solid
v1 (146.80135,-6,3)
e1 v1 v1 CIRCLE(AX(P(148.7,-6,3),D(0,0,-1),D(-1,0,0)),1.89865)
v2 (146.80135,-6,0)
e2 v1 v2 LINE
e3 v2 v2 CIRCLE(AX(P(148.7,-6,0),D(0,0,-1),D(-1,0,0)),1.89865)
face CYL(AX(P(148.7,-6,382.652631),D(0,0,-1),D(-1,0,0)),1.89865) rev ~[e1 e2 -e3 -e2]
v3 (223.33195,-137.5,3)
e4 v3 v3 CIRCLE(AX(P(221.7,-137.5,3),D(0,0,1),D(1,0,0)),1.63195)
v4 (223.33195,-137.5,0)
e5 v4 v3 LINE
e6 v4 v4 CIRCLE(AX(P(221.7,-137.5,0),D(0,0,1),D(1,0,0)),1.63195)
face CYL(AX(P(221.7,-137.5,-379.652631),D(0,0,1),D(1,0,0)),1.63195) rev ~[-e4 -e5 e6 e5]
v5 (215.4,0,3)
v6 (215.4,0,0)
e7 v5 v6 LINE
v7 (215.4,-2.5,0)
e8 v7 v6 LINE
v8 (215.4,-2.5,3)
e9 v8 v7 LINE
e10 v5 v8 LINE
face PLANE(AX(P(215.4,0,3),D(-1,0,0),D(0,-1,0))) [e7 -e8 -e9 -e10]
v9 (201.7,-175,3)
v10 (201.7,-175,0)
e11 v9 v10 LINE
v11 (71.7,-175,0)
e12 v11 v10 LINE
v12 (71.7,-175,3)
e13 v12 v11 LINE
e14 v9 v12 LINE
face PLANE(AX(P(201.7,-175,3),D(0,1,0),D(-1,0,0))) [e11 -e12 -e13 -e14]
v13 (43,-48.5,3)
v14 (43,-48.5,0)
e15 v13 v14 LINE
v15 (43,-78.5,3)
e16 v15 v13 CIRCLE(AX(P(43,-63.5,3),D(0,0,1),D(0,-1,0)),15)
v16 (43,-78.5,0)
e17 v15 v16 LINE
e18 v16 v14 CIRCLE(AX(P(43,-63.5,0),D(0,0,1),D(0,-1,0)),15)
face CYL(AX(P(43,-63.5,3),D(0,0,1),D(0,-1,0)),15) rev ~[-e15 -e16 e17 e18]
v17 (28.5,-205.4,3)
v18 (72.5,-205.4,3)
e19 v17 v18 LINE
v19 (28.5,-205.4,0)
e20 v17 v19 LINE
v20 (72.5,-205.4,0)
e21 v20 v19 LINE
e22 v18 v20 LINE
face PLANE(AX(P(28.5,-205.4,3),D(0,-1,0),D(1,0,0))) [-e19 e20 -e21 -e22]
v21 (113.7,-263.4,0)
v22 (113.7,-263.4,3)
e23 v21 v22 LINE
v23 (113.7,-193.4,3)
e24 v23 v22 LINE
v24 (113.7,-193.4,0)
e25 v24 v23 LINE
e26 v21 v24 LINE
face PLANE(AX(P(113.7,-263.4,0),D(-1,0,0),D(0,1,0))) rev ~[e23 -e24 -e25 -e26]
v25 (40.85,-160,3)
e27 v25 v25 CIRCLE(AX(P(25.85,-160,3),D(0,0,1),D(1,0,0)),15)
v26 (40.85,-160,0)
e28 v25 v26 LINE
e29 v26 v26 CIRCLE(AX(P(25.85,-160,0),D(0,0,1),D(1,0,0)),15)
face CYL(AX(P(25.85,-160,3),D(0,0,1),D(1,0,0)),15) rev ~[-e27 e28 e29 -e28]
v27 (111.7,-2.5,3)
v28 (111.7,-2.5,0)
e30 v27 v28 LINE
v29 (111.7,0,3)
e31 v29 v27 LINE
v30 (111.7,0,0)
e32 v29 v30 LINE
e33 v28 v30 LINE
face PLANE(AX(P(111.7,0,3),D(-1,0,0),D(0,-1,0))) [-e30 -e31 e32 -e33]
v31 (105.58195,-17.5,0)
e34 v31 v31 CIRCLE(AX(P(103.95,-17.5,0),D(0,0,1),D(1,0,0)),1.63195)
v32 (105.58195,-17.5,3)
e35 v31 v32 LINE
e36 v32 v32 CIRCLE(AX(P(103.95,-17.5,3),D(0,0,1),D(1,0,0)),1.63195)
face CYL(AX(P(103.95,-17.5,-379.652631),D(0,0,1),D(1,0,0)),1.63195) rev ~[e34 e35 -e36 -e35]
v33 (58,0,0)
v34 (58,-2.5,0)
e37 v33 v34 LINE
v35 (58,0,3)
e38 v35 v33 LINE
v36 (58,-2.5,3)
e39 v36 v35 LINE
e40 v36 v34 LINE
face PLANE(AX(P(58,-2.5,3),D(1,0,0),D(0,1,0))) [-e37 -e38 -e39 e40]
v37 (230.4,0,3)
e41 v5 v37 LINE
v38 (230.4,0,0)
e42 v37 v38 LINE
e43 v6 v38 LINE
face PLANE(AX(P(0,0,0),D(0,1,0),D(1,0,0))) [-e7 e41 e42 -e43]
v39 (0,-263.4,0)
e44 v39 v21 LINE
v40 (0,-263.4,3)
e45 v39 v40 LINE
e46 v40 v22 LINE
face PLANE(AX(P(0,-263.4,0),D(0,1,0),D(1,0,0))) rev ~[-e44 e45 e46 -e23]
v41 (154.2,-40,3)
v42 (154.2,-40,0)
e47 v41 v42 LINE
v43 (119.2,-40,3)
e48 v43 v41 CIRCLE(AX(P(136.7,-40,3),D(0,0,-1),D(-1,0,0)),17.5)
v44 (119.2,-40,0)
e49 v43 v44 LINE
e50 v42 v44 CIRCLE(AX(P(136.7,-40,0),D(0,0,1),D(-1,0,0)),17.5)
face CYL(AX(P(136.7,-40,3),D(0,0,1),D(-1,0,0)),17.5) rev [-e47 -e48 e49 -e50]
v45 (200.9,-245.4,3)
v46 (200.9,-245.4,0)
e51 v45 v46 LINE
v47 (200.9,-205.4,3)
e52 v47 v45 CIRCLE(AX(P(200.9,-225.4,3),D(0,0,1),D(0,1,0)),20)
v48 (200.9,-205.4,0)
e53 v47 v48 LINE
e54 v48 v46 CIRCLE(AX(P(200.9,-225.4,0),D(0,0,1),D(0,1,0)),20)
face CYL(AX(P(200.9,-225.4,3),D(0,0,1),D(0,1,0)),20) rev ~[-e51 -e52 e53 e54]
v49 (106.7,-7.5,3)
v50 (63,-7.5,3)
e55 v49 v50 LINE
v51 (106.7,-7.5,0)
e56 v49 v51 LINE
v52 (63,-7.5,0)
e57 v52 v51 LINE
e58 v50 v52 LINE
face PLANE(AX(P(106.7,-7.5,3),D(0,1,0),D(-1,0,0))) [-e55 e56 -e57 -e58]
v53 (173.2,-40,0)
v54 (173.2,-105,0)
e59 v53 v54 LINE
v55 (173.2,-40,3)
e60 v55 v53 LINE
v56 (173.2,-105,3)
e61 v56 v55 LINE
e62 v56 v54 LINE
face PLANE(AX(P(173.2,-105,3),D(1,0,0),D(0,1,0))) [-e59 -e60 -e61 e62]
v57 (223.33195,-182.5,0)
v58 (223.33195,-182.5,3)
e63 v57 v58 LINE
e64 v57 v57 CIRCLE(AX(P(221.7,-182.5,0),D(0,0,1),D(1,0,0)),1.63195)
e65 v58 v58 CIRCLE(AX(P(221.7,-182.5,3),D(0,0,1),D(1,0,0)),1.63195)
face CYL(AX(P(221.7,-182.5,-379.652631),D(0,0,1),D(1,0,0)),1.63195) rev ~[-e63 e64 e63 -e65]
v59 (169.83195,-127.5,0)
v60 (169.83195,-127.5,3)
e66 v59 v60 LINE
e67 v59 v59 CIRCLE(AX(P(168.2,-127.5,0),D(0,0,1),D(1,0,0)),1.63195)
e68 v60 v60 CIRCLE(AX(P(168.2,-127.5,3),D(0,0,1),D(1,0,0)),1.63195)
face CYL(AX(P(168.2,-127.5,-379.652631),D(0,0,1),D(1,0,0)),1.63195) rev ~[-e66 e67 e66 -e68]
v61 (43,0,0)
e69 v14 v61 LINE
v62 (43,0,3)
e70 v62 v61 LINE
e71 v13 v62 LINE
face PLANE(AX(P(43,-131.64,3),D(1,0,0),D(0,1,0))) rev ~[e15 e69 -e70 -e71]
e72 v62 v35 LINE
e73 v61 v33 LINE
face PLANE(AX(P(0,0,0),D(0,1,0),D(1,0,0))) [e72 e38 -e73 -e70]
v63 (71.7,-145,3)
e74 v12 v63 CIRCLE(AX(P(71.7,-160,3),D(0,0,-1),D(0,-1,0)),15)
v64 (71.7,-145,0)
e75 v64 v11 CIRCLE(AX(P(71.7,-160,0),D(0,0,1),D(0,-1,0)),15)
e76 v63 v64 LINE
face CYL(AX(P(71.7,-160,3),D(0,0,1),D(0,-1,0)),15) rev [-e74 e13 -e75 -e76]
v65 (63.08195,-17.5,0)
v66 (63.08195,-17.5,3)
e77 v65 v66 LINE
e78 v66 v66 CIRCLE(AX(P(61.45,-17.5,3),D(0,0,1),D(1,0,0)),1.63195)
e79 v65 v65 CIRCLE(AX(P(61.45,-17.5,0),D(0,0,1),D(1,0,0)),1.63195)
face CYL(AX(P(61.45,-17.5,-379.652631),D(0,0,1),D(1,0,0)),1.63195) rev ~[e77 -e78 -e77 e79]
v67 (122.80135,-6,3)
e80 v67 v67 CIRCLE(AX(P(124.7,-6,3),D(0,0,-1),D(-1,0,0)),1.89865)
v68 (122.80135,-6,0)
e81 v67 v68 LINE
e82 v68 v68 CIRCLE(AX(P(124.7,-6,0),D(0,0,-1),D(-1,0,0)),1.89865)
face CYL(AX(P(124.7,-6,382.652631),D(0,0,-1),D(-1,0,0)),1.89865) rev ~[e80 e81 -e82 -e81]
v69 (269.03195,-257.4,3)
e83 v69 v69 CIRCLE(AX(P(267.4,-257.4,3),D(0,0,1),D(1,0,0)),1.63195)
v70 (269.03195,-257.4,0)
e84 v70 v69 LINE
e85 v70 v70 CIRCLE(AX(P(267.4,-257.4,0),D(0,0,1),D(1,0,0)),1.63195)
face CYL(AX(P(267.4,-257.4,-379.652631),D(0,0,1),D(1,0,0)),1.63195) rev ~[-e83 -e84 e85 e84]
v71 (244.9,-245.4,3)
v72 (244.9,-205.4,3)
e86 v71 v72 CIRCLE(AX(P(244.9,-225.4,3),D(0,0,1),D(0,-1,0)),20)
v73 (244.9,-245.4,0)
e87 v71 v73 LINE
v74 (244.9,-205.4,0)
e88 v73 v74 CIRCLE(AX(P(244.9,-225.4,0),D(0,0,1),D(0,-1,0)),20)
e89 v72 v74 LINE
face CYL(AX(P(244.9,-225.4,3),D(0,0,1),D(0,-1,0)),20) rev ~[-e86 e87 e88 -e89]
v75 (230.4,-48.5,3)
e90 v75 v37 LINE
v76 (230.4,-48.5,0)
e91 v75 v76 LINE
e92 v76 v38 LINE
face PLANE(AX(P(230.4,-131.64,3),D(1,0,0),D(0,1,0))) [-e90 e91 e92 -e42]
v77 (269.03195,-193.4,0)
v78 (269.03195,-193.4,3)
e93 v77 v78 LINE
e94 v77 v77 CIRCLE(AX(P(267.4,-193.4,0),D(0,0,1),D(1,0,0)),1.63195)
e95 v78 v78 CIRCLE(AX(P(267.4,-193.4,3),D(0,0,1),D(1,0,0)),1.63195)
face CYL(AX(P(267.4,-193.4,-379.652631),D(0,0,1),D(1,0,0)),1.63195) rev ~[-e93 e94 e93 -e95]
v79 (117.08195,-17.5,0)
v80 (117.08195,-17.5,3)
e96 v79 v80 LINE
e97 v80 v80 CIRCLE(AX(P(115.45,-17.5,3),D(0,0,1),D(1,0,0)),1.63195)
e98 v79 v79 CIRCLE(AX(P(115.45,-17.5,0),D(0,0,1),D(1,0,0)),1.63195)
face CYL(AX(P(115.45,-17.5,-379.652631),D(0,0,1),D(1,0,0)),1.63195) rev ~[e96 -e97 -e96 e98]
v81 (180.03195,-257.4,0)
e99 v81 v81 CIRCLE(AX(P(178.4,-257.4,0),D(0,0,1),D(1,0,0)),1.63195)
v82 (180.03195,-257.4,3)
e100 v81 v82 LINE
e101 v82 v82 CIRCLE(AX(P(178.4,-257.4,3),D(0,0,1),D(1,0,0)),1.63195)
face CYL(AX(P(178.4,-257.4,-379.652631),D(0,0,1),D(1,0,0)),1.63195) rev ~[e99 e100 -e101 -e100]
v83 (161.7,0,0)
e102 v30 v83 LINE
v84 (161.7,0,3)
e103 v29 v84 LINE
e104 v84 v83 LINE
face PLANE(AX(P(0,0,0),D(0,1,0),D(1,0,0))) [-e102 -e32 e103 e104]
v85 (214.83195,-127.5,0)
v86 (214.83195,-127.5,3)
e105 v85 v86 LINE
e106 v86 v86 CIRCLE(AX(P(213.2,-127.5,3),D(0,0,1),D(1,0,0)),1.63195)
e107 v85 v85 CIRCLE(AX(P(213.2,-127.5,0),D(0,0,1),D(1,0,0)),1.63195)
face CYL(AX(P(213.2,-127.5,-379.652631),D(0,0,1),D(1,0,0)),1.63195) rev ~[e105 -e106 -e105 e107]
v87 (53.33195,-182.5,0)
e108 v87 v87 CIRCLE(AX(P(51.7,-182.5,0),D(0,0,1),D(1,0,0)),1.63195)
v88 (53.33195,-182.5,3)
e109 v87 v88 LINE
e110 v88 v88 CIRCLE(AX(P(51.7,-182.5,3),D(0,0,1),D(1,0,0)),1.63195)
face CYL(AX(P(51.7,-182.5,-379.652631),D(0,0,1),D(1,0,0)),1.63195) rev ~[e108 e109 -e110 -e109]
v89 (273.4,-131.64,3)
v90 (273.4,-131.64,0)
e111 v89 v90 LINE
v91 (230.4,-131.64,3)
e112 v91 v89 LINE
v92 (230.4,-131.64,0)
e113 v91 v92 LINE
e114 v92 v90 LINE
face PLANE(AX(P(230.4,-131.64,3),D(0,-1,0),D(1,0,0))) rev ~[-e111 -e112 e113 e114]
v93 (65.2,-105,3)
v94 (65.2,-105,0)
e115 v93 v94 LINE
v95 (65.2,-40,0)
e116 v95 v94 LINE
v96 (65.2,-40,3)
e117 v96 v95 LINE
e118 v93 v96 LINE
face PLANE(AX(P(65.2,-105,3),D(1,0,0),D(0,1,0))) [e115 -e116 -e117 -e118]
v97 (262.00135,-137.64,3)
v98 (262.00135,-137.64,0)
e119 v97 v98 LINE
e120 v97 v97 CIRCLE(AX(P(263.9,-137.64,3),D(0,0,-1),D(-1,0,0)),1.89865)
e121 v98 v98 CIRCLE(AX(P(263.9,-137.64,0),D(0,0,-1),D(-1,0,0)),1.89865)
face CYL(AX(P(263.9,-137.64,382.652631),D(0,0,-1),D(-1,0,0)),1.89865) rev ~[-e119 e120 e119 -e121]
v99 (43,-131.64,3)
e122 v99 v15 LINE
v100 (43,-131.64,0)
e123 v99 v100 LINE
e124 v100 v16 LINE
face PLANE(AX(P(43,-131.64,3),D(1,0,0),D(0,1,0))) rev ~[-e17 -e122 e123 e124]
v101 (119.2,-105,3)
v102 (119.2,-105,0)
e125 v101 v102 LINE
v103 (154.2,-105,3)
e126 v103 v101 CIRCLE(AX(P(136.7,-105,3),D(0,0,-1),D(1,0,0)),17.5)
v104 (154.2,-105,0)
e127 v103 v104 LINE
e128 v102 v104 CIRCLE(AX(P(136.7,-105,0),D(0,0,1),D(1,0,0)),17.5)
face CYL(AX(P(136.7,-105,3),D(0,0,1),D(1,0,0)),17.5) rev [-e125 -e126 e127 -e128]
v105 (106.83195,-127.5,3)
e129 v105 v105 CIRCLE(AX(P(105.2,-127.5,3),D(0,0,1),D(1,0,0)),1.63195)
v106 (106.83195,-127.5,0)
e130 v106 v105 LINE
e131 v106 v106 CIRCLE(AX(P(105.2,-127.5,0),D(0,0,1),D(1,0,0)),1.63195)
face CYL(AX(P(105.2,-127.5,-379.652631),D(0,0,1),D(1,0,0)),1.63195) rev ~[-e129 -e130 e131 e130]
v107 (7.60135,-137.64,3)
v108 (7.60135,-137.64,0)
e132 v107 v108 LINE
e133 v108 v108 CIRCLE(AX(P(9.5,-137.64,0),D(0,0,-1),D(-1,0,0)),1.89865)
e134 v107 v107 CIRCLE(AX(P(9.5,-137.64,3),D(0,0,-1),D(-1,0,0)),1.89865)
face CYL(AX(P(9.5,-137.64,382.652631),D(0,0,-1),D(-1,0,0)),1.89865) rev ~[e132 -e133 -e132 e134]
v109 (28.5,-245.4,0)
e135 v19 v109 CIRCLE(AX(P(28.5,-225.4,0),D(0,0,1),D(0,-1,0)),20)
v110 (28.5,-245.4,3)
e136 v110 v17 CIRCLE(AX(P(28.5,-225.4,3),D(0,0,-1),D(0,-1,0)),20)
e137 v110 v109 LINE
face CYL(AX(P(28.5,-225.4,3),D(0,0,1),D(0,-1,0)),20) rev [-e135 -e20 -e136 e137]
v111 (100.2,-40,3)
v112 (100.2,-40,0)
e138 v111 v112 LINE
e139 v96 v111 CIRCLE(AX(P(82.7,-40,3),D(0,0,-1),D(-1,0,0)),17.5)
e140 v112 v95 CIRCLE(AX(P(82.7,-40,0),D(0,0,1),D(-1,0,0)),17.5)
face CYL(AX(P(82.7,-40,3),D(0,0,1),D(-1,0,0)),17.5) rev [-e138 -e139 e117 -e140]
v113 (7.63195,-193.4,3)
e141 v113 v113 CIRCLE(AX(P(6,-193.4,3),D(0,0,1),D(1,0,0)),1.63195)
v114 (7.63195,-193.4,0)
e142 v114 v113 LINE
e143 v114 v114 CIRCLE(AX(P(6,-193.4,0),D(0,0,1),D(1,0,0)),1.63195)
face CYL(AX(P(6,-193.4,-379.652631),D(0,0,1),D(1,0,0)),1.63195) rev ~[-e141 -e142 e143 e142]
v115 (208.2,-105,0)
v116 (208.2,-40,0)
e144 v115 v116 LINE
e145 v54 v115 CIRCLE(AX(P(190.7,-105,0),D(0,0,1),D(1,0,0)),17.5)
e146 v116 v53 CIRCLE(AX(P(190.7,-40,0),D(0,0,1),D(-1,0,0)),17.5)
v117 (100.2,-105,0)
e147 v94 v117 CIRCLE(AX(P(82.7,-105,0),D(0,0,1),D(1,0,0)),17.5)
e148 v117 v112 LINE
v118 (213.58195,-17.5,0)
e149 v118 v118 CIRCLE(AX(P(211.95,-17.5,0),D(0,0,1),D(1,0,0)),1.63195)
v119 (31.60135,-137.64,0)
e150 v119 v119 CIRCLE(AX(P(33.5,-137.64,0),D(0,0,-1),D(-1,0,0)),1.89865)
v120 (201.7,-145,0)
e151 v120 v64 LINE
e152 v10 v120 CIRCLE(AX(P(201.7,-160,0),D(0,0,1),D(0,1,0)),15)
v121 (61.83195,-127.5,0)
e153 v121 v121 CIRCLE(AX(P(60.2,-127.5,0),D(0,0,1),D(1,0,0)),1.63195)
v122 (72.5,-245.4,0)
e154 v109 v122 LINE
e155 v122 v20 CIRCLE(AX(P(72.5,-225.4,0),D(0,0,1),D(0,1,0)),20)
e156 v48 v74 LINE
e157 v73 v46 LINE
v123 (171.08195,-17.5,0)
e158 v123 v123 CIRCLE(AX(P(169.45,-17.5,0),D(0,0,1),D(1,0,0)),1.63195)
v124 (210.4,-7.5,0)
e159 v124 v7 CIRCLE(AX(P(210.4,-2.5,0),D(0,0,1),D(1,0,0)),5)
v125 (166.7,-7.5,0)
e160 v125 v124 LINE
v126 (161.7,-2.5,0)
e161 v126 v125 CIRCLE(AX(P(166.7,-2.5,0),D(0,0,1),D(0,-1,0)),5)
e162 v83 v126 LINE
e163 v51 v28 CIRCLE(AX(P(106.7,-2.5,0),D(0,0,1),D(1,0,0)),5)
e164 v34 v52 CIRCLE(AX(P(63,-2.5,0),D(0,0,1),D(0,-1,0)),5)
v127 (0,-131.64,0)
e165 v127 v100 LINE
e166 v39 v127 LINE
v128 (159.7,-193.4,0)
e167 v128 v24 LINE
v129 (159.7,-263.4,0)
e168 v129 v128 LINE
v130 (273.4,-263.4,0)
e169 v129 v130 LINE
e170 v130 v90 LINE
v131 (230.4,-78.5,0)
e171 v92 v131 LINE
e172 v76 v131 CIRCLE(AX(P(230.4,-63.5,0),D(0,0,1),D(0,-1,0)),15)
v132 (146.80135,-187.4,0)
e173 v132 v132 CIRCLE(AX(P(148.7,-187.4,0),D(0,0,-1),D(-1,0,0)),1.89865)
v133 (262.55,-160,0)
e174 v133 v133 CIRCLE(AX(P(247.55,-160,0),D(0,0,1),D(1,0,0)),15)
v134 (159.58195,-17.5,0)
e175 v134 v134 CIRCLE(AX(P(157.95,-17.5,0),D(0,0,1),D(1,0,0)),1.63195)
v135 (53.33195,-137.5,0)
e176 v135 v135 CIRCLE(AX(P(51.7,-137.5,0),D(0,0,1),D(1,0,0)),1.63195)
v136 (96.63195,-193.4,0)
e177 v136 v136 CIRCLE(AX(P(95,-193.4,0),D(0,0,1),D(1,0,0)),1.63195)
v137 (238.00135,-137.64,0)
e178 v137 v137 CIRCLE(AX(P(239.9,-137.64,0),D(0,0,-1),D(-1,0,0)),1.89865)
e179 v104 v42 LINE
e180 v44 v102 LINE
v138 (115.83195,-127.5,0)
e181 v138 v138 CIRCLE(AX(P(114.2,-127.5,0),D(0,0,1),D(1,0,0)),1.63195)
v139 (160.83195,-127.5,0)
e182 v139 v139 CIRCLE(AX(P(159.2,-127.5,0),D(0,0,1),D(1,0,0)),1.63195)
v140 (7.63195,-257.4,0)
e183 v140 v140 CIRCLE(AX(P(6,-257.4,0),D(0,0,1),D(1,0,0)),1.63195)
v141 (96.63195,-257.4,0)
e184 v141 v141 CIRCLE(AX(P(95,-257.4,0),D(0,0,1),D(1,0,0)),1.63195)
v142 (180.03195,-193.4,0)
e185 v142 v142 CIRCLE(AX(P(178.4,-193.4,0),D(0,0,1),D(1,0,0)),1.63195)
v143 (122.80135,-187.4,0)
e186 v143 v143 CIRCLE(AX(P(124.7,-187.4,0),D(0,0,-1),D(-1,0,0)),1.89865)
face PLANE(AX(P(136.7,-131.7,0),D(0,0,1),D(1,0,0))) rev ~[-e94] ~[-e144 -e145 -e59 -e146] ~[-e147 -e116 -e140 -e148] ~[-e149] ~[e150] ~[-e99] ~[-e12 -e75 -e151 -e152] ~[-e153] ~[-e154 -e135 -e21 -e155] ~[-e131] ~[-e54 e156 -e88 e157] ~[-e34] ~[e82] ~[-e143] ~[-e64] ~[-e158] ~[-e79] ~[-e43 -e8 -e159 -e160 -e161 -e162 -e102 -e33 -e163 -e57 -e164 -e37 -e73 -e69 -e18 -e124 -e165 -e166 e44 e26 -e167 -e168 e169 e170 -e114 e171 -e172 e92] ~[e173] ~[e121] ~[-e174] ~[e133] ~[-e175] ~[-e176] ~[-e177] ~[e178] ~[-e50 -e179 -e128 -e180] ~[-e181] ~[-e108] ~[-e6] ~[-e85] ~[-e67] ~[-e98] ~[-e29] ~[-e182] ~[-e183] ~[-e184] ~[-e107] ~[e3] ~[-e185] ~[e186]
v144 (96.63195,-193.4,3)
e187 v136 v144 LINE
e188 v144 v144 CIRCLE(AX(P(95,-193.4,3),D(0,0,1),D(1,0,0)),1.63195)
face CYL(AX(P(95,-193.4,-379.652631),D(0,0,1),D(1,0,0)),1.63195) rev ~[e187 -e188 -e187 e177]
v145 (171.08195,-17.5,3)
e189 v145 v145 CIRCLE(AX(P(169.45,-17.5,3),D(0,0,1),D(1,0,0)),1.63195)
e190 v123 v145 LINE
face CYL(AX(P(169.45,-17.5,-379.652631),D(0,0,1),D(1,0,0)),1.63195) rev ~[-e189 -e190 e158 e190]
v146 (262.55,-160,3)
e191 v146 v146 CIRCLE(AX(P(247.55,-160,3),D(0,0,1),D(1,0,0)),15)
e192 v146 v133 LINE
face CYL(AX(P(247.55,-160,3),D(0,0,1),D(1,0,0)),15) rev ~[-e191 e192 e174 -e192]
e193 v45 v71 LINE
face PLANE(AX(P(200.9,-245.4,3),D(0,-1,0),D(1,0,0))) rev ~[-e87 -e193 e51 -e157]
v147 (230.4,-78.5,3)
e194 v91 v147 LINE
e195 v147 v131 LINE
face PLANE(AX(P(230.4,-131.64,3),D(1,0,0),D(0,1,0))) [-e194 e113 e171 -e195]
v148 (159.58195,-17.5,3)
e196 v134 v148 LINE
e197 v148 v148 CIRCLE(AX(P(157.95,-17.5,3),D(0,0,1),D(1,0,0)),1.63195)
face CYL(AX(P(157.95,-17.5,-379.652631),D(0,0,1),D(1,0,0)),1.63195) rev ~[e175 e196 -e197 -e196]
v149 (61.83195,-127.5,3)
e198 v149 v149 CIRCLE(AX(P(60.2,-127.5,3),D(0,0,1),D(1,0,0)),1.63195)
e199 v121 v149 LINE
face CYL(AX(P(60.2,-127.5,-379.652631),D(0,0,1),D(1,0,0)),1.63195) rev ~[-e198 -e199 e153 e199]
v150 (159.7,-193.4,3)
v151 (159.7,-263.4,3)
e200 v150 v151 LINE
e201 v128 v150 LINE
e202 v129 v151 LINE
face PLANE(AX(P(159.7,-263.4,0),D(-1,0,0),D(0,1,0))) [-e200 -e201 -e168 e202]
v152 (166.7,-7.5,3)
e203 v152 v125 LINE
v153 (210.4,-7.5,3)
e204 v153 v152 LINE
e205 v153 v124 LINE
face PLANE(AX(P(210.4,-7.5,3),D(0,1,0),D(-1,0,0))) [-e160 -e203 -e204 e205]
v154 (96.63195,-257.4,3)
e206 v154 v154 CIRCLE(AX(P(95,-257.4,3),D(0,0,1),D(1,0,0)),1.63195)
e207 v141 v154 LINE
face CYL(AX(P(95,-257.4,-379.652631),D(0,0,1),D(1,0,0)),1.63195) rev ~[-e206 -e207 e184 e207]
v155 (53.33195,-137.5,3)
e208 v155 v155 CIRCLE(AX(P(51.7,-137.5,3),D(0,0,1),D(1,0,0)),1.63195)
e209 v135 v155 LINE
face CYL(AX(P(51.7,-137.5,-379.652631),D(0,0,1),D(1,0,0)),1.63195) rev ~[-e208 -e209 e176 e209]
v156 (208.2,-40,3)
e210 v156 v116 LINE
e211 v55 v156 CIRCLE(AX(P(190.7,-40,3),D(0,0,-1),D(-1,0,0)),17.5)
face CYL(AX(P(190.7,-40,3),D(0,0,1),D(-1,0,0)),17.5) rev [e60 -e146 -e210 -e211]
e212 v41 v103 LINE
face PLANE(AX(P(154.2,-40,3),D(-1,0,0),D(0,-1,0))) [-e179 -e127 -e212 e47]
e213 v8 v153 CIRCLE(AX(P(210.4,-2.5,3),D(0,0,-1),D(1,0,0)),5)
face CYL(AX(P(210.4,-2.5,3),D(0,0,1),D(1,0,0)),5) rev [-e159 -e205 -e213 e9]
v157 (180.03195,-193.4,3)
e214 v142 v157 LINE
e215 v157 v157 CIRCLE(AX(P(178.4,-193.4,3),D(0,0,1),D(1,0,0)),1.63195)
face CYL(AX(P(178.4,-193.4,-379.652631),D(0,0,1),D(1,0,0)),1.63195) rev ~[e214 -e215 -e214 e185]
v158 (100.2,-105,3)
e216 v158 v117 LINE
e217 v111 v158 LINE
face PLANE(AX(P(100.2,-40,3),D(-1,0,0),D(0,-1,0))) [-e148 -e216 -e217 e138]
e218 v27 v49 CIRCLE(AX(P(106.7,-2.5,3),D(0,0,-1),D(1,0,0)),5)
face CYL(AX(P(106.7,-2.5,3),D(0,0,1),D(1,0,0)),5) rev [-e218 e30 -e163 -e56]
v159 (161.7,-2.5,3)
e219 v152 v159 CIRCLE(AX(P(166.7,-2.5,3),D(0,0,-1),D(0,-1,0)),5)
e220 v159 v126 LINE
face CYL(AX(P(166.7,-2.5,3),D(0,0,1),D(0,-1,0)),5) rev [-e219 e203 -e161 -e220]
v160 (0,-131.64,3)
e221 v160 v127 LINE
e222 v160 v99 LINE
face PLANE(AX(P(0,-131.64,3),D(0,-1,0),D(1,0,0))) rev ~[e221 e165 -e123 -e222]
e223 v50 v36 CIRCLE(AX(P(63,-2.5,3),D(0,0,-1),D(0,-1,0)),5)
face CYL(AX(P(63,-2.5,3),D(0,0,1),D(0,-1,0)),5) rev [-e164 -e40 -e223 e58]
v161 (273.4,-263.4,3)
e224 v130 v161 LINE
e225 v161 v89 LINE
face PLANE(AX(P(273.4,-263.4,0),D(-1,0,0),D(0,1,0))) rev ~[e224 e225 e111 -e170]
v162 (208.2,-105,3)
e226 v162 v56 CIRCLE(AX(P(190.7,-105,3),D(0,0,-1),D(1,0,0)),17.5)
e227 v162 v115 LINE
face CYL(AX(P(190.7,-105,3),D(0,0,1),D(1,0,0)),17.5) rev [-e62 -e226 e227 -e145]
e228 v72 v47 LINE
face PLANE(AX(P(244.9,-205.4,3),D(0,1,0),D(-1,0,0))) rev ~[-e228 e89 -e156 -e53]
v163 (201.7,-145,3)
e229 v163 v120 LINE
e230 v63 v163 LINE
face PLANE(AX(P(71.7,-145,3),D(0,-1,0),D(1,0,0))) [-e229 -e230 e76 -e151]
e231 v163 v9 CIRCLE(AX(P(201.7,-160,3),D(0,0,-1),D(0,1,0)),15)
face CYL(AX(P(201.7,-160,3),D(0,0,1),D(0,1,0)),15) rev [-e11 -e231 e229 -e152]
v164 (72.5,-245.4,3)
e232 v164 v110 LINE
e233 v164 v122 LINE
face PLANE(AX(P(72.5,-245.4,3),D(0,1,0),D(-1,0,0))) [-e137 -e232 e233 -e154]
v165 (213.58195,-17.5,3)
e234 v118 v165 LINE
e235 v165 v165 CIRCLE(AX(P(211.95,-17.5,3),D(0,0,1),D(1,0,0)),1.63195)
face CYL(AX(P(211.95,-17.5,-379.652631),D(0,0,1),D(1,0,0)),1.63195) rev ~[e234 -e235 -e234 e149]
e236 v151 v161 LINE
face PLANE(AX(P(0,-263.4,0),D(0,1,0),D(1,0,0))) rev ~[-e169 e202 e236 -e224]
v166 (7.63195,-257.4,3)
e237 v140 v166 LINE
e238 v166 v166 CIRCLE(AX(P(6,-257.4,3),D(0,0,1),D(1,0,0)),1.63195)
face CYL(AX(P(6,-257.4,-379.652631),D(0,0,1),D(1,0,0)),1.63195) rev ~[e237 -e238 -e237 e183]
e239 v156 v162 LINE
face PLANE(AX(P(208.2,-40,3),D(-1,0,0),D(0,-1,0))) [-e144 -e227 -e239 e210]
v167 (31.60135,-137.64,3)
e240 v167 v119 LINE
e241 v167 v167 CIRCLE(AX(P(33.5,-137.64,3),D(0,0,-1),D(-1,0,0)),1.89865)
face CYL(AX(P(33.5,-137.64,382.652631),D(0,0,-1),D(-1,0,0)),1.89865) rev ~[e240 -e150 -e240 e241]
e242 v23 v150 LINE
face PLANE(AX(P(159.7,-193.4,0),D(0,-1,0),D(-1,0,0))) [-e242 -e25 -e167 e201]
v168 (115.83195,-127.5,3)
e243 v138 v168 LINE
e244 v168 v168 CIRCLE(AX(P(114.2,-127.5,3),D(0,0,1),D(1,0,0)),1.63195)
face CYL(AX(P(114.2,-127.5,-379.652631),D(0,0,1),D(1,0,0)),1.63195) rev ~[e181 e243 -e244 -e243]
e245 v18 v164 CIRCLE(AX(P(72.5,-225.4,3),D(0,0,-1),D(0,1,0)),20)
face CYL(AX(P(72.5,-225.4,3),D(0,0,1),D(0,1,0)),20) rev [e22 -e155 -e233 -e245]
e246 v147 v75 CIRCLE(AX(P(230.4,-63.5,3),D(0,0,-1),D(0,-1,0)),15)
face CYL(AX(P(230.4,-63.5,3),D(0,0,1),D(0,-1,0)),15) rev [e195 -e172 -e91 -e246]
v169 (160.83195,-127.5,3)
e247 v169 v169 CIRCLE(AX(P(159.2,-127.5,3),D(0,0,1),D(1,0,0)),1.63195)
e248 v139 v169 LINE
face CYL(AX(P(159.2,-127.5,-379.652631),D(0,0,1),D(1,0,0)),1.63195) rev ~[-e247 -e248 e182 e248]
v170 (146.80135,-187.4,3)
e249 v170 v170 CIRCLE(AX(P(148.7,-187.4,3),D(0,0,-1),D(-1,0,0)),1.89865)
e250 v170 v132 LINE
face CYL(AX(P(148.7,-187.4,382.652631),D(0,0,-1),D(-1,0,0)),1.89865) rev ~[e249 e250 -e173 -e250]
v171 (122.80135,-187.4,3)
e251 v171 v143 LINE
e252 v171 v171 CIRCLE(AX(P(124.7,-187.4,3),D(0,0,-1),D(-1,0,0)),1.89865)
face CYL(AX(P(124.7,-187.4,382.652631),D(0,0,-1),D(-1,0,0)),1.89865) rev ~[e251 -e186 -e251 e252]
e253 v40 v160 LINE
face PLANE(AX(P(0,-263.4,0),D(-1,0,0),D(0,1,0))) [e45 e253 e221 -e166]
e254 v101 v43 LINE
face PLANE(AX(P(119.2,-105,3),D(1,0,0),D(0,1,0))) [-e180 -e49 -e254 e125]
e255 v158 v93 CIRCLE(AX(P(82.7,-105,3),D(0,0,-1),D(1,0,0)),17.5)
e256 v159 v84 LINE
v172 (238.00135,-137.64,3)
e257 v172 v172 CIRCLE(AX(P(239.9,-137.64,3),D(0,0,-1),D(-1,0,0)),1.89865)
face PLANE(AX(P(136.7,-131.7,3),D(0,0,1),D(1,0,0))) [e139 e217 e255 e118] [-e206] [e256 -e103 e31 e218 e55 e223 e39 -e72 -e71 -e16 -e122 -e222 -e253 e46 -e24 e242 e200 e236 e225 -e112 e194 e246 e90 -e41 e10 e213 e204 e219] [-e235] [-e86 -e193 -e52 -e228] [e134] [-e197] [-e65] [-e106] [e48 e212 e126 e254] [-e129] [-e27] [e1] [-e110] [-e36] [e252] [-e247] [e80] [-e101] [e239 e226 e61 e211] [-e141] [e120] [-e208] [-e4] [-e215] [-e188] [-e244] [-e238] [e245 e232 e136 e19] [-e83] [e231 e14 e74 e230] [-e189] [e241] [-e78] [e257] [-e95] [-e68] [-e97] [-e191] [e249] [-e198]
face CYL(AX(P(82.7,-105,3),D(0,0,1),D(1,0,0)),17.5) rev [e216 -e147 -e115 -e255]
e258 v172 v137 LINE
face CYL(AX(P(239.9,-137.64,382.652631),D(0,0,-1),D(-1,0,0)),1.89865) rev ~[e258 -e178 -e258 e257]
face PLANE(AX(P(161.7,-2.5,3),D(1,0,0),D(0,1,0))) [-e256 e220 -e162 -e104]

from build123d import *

# Parameters (mm, degrees)
SKETCH1_W             = 273.4
SKETCH1_H             = 263.4
BOSS_EXTRUDE1_DEPTH   = 3
SKETCH2_W             = 43
SKETCH2_H             = 131.64
CUT_EXTRUDE1_DEPTH    = 380.652630703
SKETCH3_W             = 46
SKETCH3_H             = 70
CUT_EXTRUDE2_DEPTH    = 380.652630703
F_4_CLEARANCE_HOLE1_D = 3.2639
CUT_EXTRUDE3_REACH    = 381.653
SKETCH4_R             = 15
F_6_CLEARANCE_HOLE1_D = 3.7973
CUT_EXTRUDE4_REACH    = 381.653


with BuildPart() as part:
    # Sketch1 → Boss-Extrude1 (new body)
    with BuildSketch(Plane.XY):
        with Locations((136.7, -131.7)):
            Rectangle(SKETCH1_W, SKETCH1_H)
    extrude(amount=BOSS_EXTRUDE1_DEPTH)

    # Sketch2 → Cut-Extrude1 (cut, through all)
    with BuildSketch(Plane.XY.offset(3)):
        with Locations((21.5, -65.82)):
            Rectangle(SKETCH2_W, SKETCH2_H)
        with Locations((251.9, -65.82)):
            Rectangle(SKETCH2_W, SKETCH2_H)
    extrude(amount=-CUT_EXTRUDE1_DEPTH, mode=Mode.SUBTRACT)

    # Sketch3 → Cut-Extrude2 (cut, through all)
    with BuildSketch(Plane(origin=(0, 0, 0), x_dir=(-1, 0, 0), z_dir=(0, 0, -1))):
        with Locations((-136.7, -228.4)):
            Rectangle(SKETCH3_W, SKETCH3_H)
    extrude(amount=-CUT_EXTRUDE2_DEPTH, mode=Mode.SUBTRACT)

    # #4 Clearance Hole1 (through all)
    with Locations(Plane(origin=(0, 0, 0), x_dir=(-1, 0, 0), z_dir=(0, 0, -1))):
        with Locations((-267.4, -257.4), (-267.4, -193.4), (-178.4, -193.4), (-178.4, -257.4), (-95, -257.4), (-95, -193.4), (-6, -193.4), (-6, -257.4), (-221.7, -137.5), (-221.7, -182.5), (-51.7, -137.5), (-51.7, -182.5), (-115.45, -17.5), (-157.95, -17.5), (-114.2, -127.5), (-159.2, -127.5), (-61.45, -17.5), (-103.95, -17.5), (-60.2, -127.5), (-105.2, -127.5), (-169.45, -17.5), (-211.95, -17.5), (-168.2, -127.5), (-213.2, -127.5)):
            Hole(F_4_CLEARANCE_HOLE1_D / 2)

    # Sketch4 → Cut-Extrude3 (cut, up to next)
    with BuildSketch(Plane.XY.offset(3), mode=Mode.PRIVATE) as cut_extrude3_sk1:
        with Locations((25.85, -160)):
            Circle(SKETCH4_R)
    cut_extrude3_tool1 = extrude(cut_extrude3_sk1.sketch, amount=-CUT_EXTRUDE3_REACH, mode=Mode.PRIVATE) & part.part
    # Sketch4 → Cut-Extrude3 (cut, up to next)
    with BuildSketch(Plane.XY.offset(3), mode=Mode.PRIVATE) as cut_extrude3_sk2:
        with Locations((247.55, -160)):
            Circle(SKETCH4_R)
    cut_extrude3_tool2 = extrude(cut_extrude3_sk2.sketch, amount=-CUT_EXTRUDE3_REACH, mode=Mode.PRIVATE) & part.part
    # Sketch4 → Cut-Extrude3 (cut, up to next)
    with BuildSketch(Plane.XY.offset(3), mode=Mode.PRIVATE) as cut_extrude3_sk3:
        with BuildLine():
            Line((58, 0), (111.7, 0))
            Line((111.7, 0), (111.7, -2.5))
            ThreePointArc((111.7, -2.5), (110.235533906, -6.035533906), (106.7, -7.5))
            Line((106.7, -7.5), (63, -7.5))
            ThreePointArc((63, -7.5), (59.464466094, -6.035533906), (58, -2.5))
            Line((58, -2.5), (58, 0))
        make_face()
    cut_extrude3_tool3 = extrude(cut_extrude3_sk3.sketch, amount=-CUT_EXTRUDE3_REACH, mode=Mode.PRIVATE) & part.part
    # Sketch4 → Cut-Extrude3 (cut, up to next)
    with BuildSketch(Plane.XY.offset(3), mode=Mode.PRIVATE) as cut_extrude3_sk4:
        with BuildLine():
            Line((43, -48.5), (43, -78.5))
            ThreePointArc((43, -78.5), (58, -63.5), (43, -48.5))
        make_face()
    cut_extrude3_tool4 = extrude(cut_extrude3_sk4.sketch, amount=-CUT_EXTRUDE3_REACH, mode=Mode.PRIVATE) & part.part
    # Sketch4 → Cut-Extrude3 (cut, up to next)
    with BuildSketch(Plane.XY.offset(3), mode=Mode.PRIVATE) as cut_extrude3_sk5:
        with BuildLine():
            Line((230.4, -48.5), (230.4, -78.5))
            ThreePointArc((230.4, -78.5), (215.4, -63.5), (230.4, -48.5))
        make_face()
    cut_extrude3_tool5 = extrude(cut_extrude3_sk5.sketch, amount=-CUT_EXTRUDE3_REACH, mode=Mode.PRIVATE) & part.part
    # Sketch4 → Cut-Extrude3 (cut, up to next)
    with BuildSketch(Plane.XY.offset(3), mode=Mode.PRIVATE) as cut_extrude3_sk6:
        with BuildLine():
            Line((210.4, -7.5), (166.7, -7.5))
            ThreePointArc((166.7, -7.5), (163.164466094, -6.035533906), (161.7, -2.5))
            Line((161.7, -2.5), (161.7, 0))
            Line((161.7, 0), (215.4, 0))
            Line((215.4, 0), (215.4, -2.5))
            ThreePointArc((215.4, -2.5), (213.935533906, -6.035533906), (210.4, -7.5))
        make_face()
    cut_extrude3_tool6 = extrude(cut_extrude3_sk6.sketch, amount=-CUT_EXTRUDE3_REACH, mode=Mode.PRIVATE) & part.part
    add(cut_extrude3_tool1.solids().sort_by_distance((25.85, -160, 3))[0], mode=Mode.SUBTRACT)
    add(cut_extrude3_tool2.solids().sort_by_distance((247.55, -160, 3))[0], mode=Mode.SUBTRACT)
    add(cut_extrude3_tool3.solids().sort_by_distance((84.85, -3.677927, 3))[0], mode=Mode.SUBTRACT)
    add(cut_extrude3_tool4.solids().sort_by_distance((49.366198, -63.5, 3))[0], mode=Mode.SUBTRACT)
    add(cut_extrude3_tool5.solids().sort_by_distance((224.033802, -63.5, 3))[0], mode=Mode.SUBTRACT)
    add(cut_extrude3_tool6.solids().sort_by_distance((188.55, -3.677927, 3))[0], mode=Mode.SUBTRACT)

    # #6 Clearance Hole1 (through all)
    with Locations(Plane.XY.offset(3)):
        with Locations((124.7, -6), (148.7, -6), (9.5, -137.64), (33.5, -137.64), (124.7, -187.4), (148.7, -187.4), (263.9, -137.64), (239.9, -137.64)):
            Hole(F_6_CLEARANCE_HOLE1_D / 2)

    # Sketch9 → Cut-Extrude4 (cut, up to next)
    with BuildSketch(Plane.XY.offset(3), mode=Mode.PRIVATE) as cut_extrude4_sk1:
        with BuildLine():
            Line((72.5, -245.4), (28.5, -245.4))
            ThreePointArc((28.5, -245.4), (8.5, -225.4), (28.5, -205.4))
            Line((28.5, -205.4), (72.5, -205.4))
            ThreePointArc((72.5, -205.4), (92.5, -225.4), (72.5, -245.4))
        make_face()
    cut_extrude4_tool1 = extrude(cut_extrude4_sk1.sketch, amount=-CUT_EXTRUDE4_REACH, mode=Mode.PRIVATE) & part.part
    # Sketch9 → Cut-Extrude4 (cut, up to next)
    with BuildSketch(Plane.XY.offset(3), mode=Mode.PRIVATE) as cut_extrude4_sk2:
        with BuildLine():
            Line((71.7, -145), (201.7, -145))
            ThreePointArc((201.7, -145), (216.7, -160), (201.7, -175))
            Line((201.7, -175), (71.7, -175))
            ThreePointArc((71.7, -175), (56.7, -160), (71.7, -145))
        make_face()
    cut_extrude4_tool2 = extrude(cut_extrude4_sk2.sketch, amount=-CUT_EXTRUDE4_REACH, mode=Mode.PRIVATE) & part.part
    # Sketch9 → Cut-Extrude4 (cut, up to next)
    with BuildSketch(Plane.XY.offset(3), mode=Mode.PRIVATE) as cut_extrude4_sk3:
        with BuildLine():
            Line((154.2, -40), (154.2, -105))
            ThreePointArc((154.2, -105), (136.7, -122.5), (119.2, -105))
            Line((119.2, -105), (119.2, -40))
            ThreePointArc((119.2, -40), (136.7, -22.5), (154.2, -40))
        make_face()
    cut_extrude4_tool3 = extrude(cut_extrude4_sk3.sketch, amount=-CUT_EXTRUDE4_REACH, mode=Mode.PRIVATE) & part.part
    # Sketch9 → Cut-Extrude4 (cut, up to next)
    with BuildSketch(Plane.XY.offset(3), mode=Mode.PRIVATE) as cut_extrude4_sk4:
        with BuildLine():
            Line((208.2, -40), (208.2, -105))
            ThreePointArc((208.2, -105), (190.7, -122.5), (173.2, -105))
            Line((173.2, -105), (173.2, -40))
            ThreePointArc((173.2, -40), (190.7, -22.5), (208.2, -40))
        make_face()
    cut_extrude4_tool4 = extrude(cut_extrude4_sk4.sketch, amount=-CUT_EXTRUDE4_REACH, mode=Mode.PRIVATE) & part.part
    # Sketch9 → Cut-Extrude4 (cut, up to next)
    with BuildSketch(Plane.XY.offset(3), mode=Mode.PRIVATE) as cut_extrude4_sk5:
        with BuildLine():
            Line((100.2, -40), (100.2, -105))
            ThreePointArc((100.2, -105), (82.7, -122.5), (65.2, -105))
            Line((65.2, -105), (65.2, -40))
            ThreePointArc((65.2, -40), (82.7, -22.5), (100.2, -40))
        make_face()
    cut_extrude4_tool5 = extrude(cut_extrude4_sk5.sketch, amount=-CUT_EXTRUDE4_REACH, mode=Mode.PRIVATE) & part.part
    # Sketch9 → Cut-Extrude4 (cut, up to next)
    with BuildSketch(Plane.XY.offset(3), mode=Mode.PRIVATE) as cut_extrude4_sk6:
        with BuildLine():
            Line((200.9, -245.4), (244.9, -245.4))
            ThreePointArc((244.9, -245.4), (264.9, -225.4), (244.9, -205.4))
            Line((244.9, -205.4), (200.9, -205.4))
            ThreePointArc((200.9, -205.4), (180.9, -225.4), (200.9, -245.4))
        make_face()
    cut_extrude4_tool6 = extrude(cut_extrude4_sk6.sketch, amount=-CUT_EXTRUDE4_REACH, mode=Mode.PRIVATE) & part.part
    add(cut_extrude4_tool1.solids().sort_by_distance((50.5, -225.4, 3))[0], mode=Mode.SUBTRACT)
    add(cut_extrude4_tool2.solids().sort_by_distance((136.7, -160, 3))[0], mode=Mode.SUBTRACT)
    add(cut_extrude4_tool3.solids().sort_by_distance((136.7, -72.5, 3))[0], mode=Mode.SUBTRACT)
    add(cut_extrude4_tool4.solids().sort_by_distance((190.7, -72.5, 3))[0], mode=Mode.SUBTRACT)
    add(cut_extrude4_tool5.solids().sort_by_distance((82.7, -72.5, 3))[0], mode=Mode.SUBTRACT)
    add(cut_extrude4_tool6.solids().sort_by_distance((222.9, -225.4, 3))[0], mode=Mode.SUBTRACT)


solid = part.part
